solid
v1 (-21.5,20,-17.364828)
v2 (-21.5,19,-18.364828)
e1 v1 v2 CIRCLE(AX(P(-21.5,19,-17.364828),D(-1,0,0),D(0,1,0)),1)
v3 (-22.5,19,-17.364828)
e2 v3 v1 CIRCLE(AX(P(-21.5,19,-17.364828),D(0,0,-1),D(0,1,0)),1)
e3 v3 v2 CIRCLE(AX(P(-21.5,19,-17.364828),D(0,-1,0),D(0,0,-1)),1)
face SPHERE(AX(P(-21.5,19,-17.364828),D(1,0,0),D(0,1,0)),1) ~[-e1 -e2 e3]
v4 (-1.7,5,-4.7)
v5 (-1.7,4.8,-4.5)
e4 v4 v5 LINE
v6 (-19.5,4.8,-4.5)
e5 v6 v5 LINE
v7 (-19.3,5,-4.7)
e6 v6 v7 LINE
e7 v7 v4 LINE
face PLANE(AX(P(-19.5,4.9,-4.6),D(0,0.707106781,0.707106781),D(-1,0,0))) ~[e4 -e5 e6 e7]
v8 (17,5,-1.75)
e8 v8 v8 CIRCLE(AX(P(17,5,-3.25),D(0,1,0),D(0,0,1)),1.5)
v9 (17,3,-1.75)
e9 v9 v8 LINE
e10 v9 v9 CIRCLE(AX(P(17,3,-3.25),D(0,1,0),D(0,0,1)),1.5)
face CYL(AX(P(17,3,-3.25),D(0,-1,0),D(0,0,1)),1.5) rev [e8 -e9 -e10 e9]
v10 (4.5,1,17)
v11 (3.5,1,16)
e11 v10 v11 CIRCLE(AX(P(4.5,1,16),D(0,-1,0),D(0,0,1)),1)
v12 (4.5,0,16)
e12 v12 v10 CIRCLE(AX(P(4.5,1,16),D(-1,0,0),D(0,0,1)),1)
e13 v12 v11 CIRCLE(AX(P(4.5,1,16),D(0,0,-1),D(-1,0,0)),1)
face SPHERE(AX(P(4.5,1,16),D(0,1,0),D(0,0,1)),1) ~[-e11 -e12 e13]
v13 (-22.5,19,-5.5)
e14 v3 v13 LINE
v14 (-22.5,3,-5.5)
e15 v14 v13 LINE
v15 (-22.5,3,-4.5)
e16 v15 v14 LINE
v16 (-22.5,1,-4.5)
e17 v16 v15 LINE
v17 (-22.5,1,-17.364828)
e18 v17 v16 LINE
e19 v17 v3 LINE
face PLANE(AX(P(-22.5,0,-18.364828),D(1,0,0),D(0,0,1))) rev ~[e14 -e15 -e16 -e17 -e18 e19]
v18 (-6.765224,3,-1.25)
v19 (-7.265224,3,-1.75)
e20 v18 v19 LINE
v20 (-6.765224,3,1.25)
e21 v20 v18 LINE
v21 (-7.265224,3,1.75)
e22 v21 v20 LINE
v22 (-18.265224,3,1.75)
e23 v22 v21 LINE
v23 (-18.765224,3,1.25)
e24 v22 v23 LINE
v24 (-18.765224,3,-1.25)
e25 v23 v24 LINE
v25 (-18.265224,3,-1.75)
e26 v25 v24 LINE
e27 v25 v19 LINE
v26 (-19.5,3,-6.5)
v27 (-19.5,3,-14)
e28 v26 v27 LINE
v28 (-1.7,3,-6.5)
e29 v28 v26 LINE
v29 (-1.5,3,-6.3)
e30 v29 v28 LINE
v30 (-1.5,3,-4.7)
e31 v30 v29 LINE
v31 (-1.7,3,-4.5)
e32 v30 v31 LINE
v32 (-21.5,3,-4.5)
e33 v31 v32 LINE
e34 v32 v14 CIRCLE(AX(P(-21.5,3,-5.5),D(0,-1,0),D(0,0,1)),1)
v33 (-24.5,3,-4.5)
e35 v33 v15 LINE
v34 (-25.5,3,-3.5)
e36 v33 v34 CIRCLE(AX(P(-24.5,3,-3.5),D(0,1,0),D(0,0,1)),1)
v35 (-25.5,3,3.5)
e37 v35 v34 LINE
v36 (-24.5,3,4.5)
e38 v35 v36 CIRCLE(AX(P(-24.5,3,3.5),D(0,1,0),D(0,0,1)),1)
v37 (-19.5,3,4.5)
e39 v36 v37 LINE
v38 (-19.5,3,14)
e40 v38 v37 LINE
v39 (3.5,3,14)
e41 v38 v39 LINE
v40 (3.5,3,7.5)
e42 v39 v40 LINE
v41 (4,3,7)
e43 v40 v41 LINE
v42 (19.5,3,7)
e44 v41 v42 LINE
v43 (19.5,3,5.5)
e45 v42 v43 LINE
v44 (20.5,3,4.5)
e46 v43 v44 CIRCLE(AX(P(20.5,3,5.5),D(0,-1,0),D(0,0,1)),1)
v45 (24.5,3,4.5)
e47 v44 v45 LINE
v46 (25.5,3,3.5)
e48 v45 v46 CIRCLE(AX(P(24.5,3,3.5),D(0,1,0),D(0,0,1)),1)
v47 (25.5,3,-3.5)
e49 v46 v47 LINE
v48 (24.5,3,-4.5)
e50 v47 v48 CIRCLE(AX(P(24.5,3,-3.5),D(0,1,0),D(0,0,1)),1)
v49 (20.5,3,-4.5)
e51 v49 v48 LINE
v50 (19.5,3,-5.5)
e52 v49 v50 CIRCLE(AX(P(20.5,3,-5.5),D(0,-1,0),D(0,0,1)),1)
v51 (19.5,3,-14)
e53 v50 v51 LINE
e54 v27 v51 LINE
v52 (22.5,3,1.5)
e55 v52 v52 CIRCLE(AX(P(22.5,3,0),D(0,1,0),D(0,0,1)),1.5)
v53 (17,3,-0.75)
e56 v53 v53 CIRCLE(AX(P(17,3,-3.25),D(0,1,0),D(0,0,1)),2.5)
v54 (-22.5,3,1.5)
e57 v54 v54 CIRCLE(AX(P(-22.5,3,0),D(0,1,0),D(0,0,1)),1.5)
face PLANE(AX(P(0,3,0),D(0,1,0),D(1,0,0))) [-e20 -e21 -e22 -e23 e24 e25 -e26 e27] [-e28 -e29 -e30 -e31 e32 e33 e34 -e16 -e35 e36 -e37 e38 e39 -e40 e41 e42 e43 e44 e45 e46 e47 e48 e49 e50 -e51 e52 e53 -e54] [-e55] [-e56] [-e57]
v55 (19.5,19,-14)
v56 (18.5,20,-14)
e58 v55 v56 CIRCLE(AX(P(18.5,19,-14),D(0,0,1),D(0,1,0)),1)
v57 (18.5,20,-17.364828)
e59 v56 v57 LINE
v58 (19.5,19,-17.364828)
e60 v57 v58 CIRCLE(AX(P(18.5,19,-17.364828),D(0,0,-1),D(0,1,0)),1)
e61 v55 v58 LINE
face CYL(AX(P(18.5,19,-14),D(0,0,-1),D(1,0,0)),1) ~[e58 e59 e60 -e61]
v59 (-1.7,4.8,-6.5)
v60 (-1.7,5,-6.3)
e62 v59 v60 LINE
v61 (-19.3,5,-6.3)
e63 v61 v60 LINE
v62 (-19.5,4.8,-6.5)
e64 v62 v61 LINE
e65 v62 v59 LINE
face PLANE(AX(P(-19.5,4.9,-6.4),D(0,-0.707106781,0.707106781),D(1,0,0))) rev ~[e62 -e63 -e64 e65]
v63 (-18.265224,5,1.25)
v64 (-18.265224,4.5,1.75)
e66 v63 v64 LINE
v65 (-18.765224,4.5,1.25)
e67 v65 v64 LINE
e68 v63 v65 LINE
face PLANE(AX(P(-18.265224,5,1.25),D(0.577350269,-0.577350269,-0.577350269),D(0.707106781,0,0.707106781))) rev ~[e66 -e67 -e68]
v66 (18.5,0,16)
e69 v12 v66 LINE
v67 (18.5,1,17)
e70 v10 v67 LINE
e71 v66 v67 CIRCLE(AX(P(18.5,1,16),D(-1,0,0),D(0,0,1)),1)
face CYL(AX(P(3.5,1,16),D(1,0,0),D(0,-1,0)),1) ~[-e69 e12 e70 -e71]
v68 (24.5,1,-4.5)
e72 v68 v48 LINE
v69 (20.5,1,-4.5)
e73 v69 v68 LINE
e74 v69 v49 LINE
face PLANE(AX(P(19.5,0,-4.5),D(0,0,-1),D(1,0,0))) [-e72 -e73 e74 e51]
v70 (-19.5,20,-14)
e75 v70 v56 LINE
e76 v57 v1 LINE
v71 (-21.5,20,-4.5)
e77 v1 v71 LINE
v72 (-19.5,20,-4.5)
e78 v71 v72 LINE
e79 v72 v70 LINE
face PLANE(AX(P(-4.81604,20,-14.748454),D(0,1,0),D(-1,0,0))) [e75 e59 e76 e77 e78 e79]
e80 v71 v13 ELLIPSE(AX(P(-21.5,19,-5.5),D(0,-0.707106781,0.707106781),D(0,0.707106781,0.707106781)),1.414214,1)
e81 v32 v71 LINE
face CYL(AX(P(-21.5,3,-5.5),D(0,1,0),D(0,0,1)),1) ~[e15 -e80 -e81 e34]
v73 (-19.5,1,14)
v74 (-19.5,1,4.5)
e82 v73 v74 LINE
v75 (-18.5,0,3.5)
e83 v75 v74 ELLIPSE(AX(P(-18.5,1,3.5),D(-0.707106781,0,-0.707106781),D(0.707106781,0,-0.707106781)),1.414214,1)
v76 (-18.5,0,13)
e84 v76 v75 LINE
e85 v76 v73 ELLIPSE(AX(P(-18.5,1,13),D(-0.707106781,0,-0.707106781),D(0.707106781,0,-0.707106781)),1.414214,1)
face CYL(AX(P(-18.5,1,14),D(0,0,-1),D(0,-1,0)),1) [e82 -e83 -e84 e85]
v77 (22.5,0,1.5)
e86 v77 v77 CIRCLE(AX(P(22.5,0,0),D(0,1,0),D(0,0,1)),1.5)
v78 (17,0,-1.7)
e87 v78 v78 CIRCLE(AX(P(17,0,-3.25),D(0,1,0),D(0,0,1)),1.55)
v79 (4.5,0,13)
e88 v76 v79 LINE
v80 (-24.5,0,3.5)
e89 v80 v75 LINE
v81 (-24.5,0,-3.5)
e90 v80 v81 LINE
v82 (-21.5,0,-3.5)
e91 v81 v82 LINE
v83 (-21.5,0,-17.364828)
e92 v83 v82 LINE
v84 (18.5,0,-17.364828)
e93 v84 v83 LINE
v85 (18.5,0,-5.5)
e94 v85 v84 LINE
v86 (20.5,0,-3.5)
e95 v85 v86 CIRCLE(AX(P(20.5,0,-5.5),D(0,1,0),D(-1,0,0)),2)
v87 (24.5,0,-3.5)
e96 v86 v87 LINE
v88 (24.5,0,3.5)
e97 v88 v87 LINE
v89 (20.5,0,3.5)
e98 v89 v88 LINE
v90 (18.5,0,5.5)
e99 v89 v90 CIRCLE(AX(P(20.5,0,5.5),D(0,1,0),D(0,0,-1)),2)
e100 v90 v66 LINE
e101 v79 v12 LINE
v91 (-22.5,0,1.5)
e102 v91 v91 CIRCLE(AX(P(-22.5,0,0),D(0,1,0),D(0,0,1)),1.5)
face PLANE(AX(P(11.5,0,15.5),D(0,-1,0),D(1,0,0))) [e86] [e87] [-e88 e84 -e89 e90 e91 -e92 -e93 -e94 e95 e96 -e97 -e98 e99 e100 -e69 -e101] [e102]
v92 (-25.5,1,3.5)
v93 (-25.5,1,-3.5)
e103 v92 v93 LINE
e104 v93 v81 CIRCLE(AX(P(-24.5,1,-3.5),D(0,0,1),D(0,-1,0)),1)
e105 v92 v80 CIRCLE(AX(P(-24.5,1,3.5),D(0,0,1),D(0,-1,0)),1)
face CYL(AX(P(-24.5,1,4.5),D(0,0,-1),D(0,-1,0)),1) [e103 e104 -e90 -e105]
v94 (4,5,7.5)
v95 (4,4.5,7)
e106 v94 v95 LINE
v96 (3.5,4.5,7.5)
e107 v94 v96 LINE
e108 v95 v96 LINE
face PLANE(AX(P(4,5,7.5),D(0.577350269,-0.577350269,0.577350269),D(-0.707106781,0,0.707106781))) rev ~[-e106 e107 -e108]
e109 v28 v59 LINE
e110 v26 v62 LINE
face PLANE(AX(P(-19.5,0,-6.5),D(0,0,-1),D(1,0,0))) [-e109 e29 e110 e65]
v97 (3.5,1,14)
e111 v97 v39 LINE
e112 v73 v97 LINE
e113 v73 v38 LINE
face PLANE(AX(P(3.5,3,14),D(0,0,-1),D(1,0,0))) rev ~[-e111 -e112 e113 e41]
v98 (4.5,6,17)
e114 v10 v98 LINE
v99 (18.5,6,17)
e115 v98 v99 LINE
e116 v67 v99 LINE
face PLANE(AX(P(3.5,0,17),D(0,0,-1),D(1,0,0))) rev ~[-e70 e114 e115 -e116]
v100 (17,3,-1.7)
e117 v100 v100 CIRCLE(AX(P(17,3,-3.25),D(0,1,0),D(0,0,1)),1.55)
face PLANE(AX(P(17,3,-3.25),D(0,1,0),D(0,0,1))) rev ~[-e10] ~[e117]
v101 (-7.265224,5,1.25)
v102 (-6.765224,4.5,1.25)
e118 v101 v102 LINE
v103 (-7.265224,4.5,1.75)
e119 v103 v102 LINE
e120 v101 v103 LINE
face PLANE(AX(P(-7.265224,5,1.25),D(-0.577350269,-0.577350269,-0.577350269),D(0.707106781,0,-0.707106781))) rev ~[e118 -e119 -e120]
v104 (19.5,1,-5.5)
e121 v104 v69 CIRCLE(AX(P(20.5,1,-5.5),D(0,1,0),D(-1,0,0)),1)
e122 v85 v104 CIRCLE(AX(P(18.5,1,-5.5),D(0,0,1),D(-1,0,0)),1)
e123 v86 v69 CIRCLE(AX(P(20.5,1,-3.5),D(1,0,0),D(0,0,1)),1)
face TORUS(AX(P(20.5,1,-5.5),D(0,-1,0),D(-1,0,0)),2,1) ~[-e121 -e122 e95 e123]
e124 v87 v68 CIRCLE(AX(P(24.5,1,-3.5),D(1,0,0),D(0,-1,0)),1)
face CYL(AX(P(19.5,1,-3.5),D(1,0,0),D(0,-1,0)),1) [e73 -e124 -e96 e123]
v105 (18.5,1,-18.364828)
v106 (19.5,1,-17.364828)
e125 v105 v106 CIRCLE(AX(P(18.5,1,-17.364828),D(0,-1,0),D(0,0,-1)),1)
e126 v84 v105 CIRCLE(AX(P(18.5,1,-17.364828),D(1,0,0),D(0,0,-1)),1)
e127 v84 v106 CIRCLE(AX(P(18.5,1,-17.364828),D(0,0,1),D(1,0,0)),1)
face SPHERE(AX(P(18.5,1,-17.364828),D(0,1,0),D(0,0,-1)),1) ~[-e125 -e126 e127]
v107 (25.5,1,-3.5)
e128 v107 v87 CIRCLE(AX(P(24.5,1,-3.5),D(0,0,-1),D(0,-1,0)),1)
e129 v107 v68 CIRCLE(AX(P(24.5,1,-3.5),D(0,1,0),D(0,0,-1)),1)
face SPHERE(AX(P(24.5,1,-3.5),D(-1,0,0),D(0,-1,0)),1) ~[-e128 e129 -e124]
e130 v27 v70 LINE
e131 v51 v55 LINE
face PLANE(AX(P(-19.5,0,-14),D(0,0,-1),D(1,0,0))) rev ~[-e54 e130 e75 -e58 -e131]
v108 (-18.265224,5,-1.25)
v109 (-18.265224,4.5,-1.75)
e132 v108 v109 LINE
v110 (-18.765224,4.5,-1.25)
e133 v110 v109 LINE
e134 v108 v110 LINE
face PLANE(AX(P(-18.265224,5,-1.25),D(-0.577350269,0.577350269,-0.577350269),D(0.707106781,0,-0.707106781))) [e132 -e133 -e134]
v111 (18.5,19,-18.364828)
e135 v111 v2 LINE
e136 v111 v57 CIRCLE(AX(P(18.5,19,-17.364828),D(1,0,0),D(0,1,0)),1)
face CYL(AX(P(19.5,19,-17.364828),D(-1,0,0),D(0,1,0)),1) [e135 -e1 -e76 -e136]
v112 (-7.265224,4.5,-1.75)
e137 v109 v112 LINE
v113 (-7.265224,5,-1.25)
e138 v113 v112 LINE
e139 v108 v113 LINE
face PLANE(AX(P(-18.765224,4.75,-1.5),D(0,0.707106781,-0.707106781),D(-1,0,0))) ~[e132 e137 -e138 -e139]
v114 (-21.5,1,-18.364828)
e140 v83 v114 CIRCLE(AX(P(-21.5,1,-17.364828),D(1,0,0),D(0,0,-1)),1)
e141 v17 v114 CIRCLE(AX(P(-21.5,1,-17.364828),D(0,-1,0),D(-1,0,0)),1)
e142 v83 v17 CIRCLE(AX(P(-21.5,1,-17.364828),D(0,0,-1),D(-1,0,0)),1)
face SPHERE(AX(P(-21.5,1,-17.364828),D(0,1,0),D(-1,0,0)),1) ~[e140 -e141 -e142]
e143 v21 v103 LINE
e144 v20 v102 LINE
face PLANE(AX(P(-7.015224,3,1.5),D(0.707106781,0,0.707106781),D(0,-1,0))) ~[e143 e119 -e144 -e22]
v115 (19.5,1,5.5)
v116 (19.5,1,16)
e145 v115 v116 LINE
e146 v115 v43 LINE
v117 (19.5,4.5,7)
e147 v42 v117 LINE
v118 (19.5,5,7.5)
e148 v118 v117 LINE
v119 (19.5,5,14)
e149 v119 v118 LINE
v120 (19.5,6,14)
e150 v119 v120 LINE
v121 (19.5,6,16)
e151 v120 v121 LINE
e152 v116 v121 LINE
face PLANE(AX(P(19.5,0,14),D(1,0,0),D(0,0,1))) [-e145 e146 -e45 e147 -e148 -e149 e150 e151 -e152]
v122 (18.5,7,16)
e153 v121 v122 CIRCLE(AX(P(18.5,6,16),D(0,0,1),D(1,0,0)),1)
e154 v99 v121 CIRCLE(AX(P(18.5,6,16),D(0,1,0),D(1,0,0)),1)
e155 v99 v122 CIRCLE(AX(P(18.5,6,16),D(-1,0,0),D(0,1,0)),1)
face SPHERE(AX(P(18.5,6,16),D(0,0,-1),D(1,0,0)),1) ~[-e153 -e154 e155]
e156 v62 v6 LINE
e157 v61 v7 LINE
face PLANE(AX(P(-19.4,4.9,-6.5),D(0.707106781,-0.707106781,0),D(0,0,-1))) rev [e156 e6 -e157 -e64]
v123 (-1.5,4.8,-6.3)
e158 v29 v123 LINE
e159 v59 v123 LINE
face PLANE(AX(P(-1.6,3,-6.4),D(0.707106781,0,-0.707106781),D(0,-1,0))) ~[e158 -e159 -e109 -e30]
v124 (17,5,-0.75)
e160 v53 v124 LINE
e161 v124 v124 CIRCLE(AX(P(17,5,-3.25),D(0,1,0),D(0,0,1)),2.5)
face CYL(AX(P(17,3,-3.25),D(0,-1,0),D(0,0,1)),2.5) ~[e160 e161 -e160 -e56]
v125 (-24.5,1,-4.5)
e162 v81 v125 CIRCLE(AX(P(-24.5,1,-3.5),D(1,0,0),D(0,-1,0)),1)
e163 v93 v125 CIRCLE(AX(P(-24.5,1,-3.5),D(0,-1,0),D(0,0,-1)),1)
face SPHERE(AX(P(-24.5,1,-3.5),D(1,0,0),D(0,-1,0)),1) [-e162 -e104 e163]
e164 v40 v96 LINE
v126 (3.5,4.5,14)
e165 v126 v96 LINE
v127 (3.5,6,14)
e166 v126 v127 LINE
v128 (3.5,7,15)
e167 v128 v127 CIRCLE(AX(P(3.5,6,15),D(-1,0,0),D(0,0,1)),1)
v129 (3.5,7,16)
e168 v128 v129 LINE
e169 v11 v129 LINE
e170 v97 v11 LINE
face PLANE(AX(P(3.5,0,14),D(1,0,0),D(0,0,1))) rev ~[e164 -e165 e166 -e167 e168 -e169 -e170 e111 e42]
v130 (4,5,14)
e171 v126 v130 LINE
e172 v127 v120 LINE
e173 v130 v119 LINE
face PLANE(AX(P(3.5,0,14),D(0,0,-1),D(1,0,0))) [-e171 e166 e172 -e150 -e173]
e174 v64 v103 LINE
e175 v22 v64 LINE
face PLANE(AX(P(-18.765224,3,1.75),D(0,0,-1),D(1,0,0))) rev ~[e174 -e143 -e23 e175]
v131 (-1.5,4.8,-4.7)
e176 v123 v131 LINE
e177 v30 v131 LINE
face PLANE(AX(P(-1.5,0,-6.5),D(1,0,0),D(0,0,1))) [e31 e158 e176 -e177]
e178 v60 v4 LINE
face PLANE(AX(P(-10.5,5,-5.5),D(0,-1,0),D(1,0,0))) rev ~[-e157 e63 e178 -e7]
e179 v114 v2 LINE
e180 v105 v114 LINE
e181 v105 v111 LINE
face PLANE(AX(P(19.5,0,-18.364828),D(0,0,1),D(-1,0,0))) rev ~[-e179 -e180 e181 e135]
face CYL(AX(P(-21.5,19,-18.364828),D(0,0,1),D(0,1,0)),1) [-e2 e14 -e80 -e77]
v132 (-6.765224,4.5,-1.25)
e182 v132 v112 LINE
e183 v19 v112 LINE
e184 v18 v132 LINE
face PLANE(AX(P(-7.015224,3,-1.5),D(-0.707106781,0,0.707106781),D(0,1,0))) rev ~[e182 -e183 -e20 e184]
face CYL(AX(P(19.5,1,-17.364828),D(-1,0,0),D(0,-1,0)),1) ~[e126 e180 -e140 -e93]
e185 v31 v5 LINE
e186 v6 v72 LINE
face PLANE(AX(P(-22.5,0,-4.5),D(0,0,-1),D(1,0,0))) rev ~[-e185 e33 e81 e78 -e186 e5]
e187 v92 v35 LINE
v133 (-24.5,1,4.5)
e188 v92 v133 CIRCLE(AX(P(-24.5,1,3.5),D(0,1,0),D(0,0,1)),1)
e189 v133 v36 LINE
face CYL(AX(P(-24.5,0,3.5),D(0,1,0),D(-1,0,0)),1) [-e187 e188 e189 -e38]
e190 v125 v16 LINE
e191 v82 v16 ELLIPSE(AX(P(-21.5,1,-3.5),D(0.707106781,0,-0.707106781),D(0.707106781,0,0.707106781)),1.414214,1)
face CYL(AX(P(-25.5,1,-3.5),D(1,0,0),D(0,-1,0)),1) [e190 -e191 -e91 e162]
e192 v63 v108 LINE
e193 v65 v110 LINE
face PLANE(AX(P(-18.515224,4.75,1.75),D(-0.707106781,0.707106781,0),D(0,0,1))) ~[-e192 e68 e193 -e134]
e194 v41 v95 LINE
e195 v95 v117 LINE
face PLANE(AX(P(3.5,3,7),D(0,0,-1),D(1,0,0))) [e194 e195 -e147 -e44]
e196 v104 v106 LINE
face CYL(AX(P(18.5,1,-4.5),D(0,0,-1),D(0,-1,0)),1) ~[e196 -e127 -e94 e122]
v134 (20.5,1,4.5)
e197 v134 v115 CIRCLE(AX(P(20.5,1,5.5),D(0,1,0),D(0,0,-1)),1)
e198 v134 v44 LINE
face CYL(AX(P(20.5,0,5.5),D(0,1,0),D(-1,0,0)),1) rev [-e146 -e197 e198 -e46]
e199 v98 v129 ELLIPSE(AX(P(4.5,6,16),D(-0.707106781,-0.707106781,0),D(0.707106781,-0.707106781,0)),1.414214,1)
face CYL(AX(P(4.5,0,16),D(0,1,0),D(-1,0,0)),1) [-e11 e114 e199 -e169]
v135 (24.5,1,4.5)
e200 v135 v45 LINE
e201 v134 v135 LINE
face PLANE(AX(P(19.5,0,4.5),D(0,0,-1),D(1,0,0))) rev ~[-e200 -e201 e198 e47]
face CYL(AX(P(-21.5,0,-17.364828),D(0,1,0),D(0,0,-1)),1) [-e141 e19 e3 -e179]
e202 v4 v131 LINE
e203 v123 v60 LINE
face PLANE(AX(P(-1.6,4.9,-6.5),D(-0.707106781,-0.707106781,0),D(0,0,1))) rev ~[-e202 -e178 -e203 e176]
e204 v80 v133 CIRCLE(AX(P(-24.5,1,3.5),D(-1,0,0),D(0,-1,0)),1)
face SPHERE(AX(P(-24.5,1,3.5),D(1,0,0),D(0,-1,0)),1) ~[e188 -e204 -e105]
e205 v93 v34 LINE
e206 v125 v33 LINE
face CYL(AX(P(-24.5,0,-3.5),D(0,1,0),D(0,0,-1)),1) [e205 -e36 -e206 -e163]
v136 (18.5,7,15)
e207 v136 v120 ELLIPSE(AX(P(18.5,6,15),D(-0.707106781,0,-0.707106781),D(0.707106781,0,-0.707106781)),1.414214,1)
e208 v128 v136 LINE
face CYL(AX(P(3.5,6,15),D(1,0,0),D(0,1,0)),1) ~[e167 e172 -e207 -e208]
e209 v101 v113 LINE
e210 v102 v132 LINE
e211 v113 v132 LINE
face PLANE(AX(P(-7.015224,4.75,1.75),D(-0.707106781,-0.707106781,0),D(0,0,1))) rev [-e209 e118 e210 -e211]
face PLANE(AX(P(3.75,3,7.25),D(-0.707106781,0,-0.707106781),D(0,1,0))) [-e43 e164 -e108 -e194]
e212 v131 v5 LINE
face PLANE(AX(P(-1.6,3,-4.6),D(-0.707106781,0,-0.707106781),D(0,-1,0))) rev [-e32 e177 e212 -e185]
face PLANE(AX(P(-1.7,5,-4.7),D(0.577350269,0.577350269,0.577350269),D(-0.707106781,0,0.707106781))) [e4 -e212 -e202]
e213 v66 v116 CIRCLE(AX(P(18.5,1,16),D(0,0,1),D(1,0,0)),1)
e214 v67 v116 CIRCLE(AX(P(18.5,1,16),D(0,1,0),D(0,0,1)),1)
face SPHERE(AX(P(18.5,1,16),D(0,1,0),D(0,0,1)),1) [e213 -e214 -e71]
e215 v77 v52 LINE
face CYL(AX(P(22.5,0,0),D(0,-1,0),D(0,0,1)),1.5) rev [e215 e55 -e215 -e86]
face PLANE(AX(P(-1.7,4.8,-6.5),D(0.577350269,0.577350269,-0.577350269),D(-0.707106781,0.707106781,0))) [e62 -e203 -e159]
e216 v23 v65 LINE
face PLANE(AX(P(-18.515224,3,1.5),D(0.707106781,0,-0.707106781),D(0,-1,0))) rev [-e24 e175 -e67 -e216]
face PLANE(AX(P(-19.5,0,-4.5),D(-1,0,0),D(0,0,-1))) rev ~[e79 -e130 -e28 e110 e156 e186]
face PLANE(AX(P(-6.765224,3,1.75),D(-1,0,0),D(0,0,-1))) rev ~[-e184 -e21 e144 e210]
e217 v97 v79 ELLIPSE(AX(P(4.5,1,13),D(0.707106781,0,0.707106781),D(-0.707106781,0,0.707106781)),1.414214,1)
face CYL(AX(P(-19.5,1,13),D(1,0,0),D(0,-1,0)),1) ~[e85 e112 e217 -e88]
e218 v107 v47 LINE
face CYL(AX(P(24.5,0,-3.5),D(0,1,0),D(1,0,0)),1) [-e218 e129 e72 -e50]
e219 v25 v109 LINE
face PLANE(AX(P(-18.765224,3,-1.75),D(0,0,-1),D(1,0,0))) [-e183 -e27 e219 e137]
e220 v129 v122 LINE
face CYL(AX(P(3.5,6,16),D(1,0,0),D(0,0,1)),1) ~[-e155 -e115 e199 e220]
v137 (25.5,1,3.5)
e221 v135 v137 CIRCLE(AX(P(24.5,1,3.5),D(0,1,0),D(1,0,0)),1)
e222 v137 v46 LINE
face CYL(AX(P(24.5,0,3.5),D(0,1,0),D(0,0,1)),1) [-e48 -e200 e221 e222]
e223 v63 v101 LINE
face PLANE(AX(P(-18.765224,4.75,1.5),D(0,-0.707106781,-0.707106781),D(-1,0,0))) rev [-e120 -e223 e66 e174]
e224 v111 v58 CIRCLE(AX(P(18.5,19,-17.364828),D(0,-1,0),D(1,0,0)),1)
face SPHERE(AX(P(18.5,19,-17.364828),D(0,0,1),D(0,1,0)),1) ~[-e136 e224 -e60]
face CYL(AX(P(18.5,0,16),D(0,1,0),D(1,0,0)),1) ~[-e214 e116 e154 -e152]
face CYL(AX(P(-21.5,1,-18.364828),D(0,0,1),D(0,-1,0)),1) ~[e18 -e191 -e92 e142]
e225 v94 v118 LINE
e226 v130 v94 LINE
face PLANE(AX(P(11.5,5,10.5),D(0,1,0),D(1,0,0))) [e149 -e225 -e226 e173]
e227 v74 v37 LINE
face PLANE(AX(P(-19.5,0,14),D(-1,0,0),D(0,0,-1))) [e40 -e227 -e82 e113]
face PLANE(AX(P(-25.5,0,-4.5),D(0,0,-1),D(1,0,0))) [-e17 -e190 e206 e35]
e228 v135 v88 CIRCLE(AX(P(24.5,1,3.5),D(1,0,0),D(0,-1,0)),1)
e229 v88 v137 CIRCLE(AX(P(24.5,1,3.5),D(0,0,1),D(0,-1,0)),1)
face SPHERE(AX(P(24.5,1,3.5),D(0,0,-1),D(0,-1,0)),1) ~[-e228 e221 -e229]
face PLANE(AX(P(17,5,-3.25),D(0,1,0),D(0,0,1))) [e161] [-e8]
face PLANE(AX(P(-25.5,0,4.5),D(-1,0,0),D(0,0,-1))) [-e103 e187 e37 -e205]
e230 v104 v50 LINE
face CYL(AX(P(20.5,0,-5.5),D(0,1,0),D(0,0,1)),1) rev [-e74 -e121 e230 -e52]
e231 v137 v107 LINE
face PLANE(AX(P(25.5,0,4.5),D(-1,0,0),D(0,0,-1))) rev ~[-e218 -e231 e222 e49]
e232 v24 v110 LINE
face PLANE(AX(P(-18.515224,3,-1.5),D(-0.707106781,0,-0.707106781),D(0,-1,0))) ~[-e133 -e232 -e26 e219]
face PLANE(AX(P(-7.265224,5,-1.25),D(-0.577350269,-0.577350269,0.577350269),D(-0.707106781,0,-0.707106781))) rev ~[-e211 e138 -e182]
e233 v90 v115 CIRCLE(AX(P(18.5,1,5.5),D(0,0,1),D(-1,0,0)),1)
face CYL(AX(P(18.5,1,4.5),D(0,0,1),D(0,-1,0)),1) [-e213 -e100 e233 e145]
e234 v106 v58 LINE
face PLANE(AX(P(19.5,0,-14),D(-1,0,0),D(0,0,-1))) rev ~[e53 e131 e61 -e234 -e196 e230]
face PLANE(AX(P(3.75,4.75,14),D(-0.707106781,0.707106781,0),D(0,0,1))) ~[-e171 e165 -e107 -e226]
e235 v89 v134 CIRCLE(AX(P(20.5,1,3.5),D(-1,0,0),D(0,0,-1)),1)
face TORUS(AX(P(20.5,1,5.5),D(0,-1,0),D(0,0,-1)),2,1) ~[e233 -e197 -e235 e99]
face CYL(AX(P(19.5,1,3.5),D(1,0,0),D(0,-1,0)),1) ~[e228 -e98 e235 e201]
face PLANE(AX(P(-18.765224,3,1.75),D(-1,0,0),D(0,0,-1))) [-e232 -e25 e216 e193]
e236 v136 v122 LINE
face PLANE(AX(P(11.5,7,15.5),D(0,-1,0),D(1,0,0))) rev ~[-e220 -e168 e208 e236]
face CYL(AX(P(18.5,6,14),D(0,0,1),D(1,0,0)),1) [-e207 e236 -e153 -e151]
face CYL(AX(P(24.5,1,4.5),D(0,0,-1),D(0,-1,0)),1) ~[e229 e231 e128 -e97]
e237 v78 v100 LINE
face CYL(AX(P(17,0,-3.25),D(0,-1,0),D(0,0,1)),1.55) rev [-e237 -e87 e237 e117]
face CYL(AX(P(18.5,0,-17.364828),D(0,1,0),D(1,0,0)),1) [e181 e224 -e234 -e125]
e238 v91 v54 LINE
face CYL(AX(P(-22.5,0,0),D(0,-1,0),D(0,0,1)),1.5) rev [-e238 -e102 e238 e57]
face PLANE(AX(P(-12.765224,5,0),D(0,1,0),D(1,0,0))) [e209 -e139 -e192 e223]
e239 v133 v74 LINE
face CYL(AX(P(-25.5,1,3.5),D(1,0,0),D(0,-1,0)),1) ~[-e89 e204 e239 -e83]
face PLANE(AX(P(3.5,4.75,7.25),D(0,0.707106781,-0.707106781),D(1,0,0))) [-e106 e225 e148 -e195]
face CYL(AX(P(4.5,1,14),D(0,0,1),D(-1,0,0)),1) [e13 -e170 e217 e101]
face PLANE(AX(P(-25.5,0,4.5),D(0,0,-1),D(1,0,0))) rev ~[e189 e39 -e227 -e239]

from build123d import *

# Parameters (mm, degrees)
ESQUISSE1_W         = 6
ESQUISSE1_H         = 9
ESQUISSE1_R         = 1.5
ESQUISSE1_W_2       = 39
ESQUISSE1_H_2       = 28
ESQUISSE1_R_2       = 1.55
BOSS_EXTRU_2_DEPTH  = 3
ESQUISSE2_W         = 12
ESQUISSE2_H         = 3.5
BOSS_EXTRU_3_DEPTH  = 2
CHANFREIN1_SIZE     = 0.5
ESQUISSE7_R         = 2.5
ESQUISSE7_R_2       = 1.5
BOSS_EXTRU_6_DEPTH  = 2
ESQUISSE5_W         = 18
ESQUISSE5_H         = 2
BOSS_EXTRU_7_DEPTH  = 5
CHANFREIN2_SIZE     = 0.2
ESQUISSE8_W         = 16
ESQUISSE8_H         = 7
BOSS_EXTRU_8_DEPTH  = 2
CHANFREIN3_SIZE     = 0.5
BOSS_EXTRU_9_DEPTH  = 20
ESQUISSE11_W        = 16
ESQUISSE11_H        = 3
BOSS_EXTRU_10_DEPTH = 7
CONG_1_R            = 1


with BuildPart() as part:
    # Esquisse1 → Boss.-Extru.2 (new body)
    # profile 1 of 3: a face of its own
    with BuildSketch(Plane(origin=(0, 0, 0), x_dir=(1, 0, 0), z_dir=(0, 1, 0))):
        with Locations((-22.5, 0)):
            Rectangle(ESQUISSE1_W, ESQUISSE1_H)
        with Locations(Location((-22.5, 0, 0), (0, 0, 270))):
            Circle(ESQUISSE1_R, mode=Mode.SUBTRACT)
    # profile 2 of 3: a face of its own
    with BuildSketch(Plane(origin=(0, 0, 0), x_dir=(1, 0, 0), z_dir=(0, 1, 0))):
        Rectangle(ESQUISSE1_W_2, ESQUISSE1_H_2)
        with Locations(Location((17, 3.25, 0), (0, 0, 270))):
            Circle(ESQUISSE1_R_2, mode=Mode.SUBTRACT)
    # profile 3 of 3: a face of its own
    with BuildSketch(Plane(origin=(0, 0, 0), x_dir=(1, 0, 0), z_dir=(0, 1, 0))):
        with Locations((22.5, 0)):
            Rectangle(ESQUISSE1_W, ESQUISSE1_H)
        with Locations(Location((22.5, 0, 0), (0, 0, 270))):
            Circle(ESQUISSE1_R, mode=Mode.SUBTRACT)
    extrude(amount=BOSS_EXTRU_2_DEPTH)

    # Esquisse2 → Boss.-Extru.3 (add)
    with BuildSketch(Plane(origin=(0, 3, 0), x_dir=(1, 0, 0), z_dir=(0, 1, 0))):
        with Locations((-12.765224295, 0)):
            Rectangle(ESQUISSE2_W, ESQUISSE2_H)
    extrude(amount=BOSS_EXTRU_3_DEPTH)

    # Chanfrein1
    chanfrein1_edges = [part.edges().sort_by_distance(p)[0] for p in [
        (-18.765224295, 4, -1.75),
        (-18.765224295, 4, 1.75),
        (-6.765224295, 4, 1.75),
        (-6.765224295, 4, -1.75),
        (-18.765224295, 5, 0),
        (-12.765224295, 5, 1.75),
        (-6.765224295, 5, 0),
        (-12.765224295, 5, -1.75),
    ]]
    chamfer(chanfrein1_edges, length=CHANFREIN1_SIZE)

    # Esquisse7 → Boss.-Extru.6 (add)
    with BuildSketch(Plane(origin=(0, 3, 0), x_dir=(1, 0, 0), z_dir=(0, 1, 0))):
        with Locations(Location((17, 3.25, 0), (0, 0, 270))):
            Circle(ESQUISSE7_R)
        with Locations(Location((17, 3.25, 0), (0, 0, 270))):
            Circle(ESQUISSE7_R_2, mode=Mode.SUBTRACT)
    extrude(amount=BOSS_EXTRU_6_DEPTH)

    # Esquisse5 → Boss.-Extru.7 (add)
    with BuildSketch(Plane.XZ):
        with Locations((-10.5, -5.5)):
            Rectangle(ESQUISSE5_W, ESQUISSE5_H)
    extrude(amount=-BOSS_EXTRU_7_DEPTH)

    # Chanfrein2
    chanfrein2_edges = [part.edges().sort_by_distance(p)[0] for p in [
        (-1.5, 4, -4.5),
        (-1.5, 5, -5.5),
        (-1.5, 4, -6.5),
        (-10.5, 5, -6.5),
        (-19.5, 5, -5.5),
        (-10.5, 5, -4.5),
    ]]
    chamfer(chanfrein2_edges, length=CHANFREIN2_SIZE)

    # Esquisse8 → Boss.-Extru.8 (add)
    with BuildSketch(Plane(origin=(0, 3, 0), x_dir=(1, 0, 0), z_dir=(0, 1, 0))):
        with Locations((11.5, -10.5)):
            Rectangle(ESQUISSE8_W, ESQUISSE8_H)
    extrude(amount=BOSS_EXTRU_8_DEPTH)

    # Chanfrein3
    chanfrein3_edges = [part.edges().sort_by_distance(p)[0] for p in [
        (3.5, 4, 7),
        (11.5, 5, 7),
        (3.5, 5, 10.5),
    ]]
    chamfer(chanfrein3_edges, length=CHANFREIN3_SIZE)

    # Esquisse9 → Boss.-Extru.9 (add)
    with BuildSketch(Plane.XZ):
        Polygon((-19.5, -14), (19.5, -14), (19.5, -18.364828329), (-22.5, -18.364828329), (-22.5, -4.5), (-19.5, -4.5), align=None)
    extrude(amount=-BOSS_EXTRU_9_DEPTH)

    # Esquisse11 → Boss.-Extru.10 (add)
    with BuildSketch(Plane.XZ):
        with Locations((11.5, 15.5)):
            Rectangle(ESQUISSE11_W, ESQUISSE11_H)
    extrude(amount=-BOSS_EXTRU_10_DEPTH)

    # Congé1
    cong_1_edges = [part.edges().sort_by_distance(p)[0] for p in [
        (-24, 0, -4.5),
        (-22.5, 11.5, -4.5),
        (19.5, 20, -16.182414164),
        (-1.5, 20, -18.364828329),
        (19.5, 10, -18.364828329),
        (-22.5, 20, -11.432414164),
        (-22.5, 10, -18.364828329),
        (-22.5, 0, -11.432414164),
        (-1.5, 0, -18.364828329),
        (19.5, 0, -11.432414164),
        (22.5, 0, -4.5),
        (11.5, 7, 14),
        (25.5, 0, 0),
        (19.5, 7, 15.5),
        (19.5, 3.5, 17),
        (11.5, 7, 17),
        (3.5, 3.5, 17),
        (11.5, 0, 17),
        (3.5, 0, 15.5),
        (22.5, 0, 4.5),
        (19.5, 0, 10.75),
        (-8, 0, 14),
        (-19.5, 0, 9.25),
        (-22.5, 0, 4.5),
        (-25.5, 0, 0),
        (-25.5, 1.5, -4.5),
        (19.5, 1.5, -4.5),
        (25.5, 1.5, -4.5),
        (25.5, 1.5, 4.5),
        (19.5, 1.5, 4.5),
        (-25.5, 1.5, 4.5),
    ]]
    fillet(cong_1_edges, radius=CONG_1_R)


solid = part.part
